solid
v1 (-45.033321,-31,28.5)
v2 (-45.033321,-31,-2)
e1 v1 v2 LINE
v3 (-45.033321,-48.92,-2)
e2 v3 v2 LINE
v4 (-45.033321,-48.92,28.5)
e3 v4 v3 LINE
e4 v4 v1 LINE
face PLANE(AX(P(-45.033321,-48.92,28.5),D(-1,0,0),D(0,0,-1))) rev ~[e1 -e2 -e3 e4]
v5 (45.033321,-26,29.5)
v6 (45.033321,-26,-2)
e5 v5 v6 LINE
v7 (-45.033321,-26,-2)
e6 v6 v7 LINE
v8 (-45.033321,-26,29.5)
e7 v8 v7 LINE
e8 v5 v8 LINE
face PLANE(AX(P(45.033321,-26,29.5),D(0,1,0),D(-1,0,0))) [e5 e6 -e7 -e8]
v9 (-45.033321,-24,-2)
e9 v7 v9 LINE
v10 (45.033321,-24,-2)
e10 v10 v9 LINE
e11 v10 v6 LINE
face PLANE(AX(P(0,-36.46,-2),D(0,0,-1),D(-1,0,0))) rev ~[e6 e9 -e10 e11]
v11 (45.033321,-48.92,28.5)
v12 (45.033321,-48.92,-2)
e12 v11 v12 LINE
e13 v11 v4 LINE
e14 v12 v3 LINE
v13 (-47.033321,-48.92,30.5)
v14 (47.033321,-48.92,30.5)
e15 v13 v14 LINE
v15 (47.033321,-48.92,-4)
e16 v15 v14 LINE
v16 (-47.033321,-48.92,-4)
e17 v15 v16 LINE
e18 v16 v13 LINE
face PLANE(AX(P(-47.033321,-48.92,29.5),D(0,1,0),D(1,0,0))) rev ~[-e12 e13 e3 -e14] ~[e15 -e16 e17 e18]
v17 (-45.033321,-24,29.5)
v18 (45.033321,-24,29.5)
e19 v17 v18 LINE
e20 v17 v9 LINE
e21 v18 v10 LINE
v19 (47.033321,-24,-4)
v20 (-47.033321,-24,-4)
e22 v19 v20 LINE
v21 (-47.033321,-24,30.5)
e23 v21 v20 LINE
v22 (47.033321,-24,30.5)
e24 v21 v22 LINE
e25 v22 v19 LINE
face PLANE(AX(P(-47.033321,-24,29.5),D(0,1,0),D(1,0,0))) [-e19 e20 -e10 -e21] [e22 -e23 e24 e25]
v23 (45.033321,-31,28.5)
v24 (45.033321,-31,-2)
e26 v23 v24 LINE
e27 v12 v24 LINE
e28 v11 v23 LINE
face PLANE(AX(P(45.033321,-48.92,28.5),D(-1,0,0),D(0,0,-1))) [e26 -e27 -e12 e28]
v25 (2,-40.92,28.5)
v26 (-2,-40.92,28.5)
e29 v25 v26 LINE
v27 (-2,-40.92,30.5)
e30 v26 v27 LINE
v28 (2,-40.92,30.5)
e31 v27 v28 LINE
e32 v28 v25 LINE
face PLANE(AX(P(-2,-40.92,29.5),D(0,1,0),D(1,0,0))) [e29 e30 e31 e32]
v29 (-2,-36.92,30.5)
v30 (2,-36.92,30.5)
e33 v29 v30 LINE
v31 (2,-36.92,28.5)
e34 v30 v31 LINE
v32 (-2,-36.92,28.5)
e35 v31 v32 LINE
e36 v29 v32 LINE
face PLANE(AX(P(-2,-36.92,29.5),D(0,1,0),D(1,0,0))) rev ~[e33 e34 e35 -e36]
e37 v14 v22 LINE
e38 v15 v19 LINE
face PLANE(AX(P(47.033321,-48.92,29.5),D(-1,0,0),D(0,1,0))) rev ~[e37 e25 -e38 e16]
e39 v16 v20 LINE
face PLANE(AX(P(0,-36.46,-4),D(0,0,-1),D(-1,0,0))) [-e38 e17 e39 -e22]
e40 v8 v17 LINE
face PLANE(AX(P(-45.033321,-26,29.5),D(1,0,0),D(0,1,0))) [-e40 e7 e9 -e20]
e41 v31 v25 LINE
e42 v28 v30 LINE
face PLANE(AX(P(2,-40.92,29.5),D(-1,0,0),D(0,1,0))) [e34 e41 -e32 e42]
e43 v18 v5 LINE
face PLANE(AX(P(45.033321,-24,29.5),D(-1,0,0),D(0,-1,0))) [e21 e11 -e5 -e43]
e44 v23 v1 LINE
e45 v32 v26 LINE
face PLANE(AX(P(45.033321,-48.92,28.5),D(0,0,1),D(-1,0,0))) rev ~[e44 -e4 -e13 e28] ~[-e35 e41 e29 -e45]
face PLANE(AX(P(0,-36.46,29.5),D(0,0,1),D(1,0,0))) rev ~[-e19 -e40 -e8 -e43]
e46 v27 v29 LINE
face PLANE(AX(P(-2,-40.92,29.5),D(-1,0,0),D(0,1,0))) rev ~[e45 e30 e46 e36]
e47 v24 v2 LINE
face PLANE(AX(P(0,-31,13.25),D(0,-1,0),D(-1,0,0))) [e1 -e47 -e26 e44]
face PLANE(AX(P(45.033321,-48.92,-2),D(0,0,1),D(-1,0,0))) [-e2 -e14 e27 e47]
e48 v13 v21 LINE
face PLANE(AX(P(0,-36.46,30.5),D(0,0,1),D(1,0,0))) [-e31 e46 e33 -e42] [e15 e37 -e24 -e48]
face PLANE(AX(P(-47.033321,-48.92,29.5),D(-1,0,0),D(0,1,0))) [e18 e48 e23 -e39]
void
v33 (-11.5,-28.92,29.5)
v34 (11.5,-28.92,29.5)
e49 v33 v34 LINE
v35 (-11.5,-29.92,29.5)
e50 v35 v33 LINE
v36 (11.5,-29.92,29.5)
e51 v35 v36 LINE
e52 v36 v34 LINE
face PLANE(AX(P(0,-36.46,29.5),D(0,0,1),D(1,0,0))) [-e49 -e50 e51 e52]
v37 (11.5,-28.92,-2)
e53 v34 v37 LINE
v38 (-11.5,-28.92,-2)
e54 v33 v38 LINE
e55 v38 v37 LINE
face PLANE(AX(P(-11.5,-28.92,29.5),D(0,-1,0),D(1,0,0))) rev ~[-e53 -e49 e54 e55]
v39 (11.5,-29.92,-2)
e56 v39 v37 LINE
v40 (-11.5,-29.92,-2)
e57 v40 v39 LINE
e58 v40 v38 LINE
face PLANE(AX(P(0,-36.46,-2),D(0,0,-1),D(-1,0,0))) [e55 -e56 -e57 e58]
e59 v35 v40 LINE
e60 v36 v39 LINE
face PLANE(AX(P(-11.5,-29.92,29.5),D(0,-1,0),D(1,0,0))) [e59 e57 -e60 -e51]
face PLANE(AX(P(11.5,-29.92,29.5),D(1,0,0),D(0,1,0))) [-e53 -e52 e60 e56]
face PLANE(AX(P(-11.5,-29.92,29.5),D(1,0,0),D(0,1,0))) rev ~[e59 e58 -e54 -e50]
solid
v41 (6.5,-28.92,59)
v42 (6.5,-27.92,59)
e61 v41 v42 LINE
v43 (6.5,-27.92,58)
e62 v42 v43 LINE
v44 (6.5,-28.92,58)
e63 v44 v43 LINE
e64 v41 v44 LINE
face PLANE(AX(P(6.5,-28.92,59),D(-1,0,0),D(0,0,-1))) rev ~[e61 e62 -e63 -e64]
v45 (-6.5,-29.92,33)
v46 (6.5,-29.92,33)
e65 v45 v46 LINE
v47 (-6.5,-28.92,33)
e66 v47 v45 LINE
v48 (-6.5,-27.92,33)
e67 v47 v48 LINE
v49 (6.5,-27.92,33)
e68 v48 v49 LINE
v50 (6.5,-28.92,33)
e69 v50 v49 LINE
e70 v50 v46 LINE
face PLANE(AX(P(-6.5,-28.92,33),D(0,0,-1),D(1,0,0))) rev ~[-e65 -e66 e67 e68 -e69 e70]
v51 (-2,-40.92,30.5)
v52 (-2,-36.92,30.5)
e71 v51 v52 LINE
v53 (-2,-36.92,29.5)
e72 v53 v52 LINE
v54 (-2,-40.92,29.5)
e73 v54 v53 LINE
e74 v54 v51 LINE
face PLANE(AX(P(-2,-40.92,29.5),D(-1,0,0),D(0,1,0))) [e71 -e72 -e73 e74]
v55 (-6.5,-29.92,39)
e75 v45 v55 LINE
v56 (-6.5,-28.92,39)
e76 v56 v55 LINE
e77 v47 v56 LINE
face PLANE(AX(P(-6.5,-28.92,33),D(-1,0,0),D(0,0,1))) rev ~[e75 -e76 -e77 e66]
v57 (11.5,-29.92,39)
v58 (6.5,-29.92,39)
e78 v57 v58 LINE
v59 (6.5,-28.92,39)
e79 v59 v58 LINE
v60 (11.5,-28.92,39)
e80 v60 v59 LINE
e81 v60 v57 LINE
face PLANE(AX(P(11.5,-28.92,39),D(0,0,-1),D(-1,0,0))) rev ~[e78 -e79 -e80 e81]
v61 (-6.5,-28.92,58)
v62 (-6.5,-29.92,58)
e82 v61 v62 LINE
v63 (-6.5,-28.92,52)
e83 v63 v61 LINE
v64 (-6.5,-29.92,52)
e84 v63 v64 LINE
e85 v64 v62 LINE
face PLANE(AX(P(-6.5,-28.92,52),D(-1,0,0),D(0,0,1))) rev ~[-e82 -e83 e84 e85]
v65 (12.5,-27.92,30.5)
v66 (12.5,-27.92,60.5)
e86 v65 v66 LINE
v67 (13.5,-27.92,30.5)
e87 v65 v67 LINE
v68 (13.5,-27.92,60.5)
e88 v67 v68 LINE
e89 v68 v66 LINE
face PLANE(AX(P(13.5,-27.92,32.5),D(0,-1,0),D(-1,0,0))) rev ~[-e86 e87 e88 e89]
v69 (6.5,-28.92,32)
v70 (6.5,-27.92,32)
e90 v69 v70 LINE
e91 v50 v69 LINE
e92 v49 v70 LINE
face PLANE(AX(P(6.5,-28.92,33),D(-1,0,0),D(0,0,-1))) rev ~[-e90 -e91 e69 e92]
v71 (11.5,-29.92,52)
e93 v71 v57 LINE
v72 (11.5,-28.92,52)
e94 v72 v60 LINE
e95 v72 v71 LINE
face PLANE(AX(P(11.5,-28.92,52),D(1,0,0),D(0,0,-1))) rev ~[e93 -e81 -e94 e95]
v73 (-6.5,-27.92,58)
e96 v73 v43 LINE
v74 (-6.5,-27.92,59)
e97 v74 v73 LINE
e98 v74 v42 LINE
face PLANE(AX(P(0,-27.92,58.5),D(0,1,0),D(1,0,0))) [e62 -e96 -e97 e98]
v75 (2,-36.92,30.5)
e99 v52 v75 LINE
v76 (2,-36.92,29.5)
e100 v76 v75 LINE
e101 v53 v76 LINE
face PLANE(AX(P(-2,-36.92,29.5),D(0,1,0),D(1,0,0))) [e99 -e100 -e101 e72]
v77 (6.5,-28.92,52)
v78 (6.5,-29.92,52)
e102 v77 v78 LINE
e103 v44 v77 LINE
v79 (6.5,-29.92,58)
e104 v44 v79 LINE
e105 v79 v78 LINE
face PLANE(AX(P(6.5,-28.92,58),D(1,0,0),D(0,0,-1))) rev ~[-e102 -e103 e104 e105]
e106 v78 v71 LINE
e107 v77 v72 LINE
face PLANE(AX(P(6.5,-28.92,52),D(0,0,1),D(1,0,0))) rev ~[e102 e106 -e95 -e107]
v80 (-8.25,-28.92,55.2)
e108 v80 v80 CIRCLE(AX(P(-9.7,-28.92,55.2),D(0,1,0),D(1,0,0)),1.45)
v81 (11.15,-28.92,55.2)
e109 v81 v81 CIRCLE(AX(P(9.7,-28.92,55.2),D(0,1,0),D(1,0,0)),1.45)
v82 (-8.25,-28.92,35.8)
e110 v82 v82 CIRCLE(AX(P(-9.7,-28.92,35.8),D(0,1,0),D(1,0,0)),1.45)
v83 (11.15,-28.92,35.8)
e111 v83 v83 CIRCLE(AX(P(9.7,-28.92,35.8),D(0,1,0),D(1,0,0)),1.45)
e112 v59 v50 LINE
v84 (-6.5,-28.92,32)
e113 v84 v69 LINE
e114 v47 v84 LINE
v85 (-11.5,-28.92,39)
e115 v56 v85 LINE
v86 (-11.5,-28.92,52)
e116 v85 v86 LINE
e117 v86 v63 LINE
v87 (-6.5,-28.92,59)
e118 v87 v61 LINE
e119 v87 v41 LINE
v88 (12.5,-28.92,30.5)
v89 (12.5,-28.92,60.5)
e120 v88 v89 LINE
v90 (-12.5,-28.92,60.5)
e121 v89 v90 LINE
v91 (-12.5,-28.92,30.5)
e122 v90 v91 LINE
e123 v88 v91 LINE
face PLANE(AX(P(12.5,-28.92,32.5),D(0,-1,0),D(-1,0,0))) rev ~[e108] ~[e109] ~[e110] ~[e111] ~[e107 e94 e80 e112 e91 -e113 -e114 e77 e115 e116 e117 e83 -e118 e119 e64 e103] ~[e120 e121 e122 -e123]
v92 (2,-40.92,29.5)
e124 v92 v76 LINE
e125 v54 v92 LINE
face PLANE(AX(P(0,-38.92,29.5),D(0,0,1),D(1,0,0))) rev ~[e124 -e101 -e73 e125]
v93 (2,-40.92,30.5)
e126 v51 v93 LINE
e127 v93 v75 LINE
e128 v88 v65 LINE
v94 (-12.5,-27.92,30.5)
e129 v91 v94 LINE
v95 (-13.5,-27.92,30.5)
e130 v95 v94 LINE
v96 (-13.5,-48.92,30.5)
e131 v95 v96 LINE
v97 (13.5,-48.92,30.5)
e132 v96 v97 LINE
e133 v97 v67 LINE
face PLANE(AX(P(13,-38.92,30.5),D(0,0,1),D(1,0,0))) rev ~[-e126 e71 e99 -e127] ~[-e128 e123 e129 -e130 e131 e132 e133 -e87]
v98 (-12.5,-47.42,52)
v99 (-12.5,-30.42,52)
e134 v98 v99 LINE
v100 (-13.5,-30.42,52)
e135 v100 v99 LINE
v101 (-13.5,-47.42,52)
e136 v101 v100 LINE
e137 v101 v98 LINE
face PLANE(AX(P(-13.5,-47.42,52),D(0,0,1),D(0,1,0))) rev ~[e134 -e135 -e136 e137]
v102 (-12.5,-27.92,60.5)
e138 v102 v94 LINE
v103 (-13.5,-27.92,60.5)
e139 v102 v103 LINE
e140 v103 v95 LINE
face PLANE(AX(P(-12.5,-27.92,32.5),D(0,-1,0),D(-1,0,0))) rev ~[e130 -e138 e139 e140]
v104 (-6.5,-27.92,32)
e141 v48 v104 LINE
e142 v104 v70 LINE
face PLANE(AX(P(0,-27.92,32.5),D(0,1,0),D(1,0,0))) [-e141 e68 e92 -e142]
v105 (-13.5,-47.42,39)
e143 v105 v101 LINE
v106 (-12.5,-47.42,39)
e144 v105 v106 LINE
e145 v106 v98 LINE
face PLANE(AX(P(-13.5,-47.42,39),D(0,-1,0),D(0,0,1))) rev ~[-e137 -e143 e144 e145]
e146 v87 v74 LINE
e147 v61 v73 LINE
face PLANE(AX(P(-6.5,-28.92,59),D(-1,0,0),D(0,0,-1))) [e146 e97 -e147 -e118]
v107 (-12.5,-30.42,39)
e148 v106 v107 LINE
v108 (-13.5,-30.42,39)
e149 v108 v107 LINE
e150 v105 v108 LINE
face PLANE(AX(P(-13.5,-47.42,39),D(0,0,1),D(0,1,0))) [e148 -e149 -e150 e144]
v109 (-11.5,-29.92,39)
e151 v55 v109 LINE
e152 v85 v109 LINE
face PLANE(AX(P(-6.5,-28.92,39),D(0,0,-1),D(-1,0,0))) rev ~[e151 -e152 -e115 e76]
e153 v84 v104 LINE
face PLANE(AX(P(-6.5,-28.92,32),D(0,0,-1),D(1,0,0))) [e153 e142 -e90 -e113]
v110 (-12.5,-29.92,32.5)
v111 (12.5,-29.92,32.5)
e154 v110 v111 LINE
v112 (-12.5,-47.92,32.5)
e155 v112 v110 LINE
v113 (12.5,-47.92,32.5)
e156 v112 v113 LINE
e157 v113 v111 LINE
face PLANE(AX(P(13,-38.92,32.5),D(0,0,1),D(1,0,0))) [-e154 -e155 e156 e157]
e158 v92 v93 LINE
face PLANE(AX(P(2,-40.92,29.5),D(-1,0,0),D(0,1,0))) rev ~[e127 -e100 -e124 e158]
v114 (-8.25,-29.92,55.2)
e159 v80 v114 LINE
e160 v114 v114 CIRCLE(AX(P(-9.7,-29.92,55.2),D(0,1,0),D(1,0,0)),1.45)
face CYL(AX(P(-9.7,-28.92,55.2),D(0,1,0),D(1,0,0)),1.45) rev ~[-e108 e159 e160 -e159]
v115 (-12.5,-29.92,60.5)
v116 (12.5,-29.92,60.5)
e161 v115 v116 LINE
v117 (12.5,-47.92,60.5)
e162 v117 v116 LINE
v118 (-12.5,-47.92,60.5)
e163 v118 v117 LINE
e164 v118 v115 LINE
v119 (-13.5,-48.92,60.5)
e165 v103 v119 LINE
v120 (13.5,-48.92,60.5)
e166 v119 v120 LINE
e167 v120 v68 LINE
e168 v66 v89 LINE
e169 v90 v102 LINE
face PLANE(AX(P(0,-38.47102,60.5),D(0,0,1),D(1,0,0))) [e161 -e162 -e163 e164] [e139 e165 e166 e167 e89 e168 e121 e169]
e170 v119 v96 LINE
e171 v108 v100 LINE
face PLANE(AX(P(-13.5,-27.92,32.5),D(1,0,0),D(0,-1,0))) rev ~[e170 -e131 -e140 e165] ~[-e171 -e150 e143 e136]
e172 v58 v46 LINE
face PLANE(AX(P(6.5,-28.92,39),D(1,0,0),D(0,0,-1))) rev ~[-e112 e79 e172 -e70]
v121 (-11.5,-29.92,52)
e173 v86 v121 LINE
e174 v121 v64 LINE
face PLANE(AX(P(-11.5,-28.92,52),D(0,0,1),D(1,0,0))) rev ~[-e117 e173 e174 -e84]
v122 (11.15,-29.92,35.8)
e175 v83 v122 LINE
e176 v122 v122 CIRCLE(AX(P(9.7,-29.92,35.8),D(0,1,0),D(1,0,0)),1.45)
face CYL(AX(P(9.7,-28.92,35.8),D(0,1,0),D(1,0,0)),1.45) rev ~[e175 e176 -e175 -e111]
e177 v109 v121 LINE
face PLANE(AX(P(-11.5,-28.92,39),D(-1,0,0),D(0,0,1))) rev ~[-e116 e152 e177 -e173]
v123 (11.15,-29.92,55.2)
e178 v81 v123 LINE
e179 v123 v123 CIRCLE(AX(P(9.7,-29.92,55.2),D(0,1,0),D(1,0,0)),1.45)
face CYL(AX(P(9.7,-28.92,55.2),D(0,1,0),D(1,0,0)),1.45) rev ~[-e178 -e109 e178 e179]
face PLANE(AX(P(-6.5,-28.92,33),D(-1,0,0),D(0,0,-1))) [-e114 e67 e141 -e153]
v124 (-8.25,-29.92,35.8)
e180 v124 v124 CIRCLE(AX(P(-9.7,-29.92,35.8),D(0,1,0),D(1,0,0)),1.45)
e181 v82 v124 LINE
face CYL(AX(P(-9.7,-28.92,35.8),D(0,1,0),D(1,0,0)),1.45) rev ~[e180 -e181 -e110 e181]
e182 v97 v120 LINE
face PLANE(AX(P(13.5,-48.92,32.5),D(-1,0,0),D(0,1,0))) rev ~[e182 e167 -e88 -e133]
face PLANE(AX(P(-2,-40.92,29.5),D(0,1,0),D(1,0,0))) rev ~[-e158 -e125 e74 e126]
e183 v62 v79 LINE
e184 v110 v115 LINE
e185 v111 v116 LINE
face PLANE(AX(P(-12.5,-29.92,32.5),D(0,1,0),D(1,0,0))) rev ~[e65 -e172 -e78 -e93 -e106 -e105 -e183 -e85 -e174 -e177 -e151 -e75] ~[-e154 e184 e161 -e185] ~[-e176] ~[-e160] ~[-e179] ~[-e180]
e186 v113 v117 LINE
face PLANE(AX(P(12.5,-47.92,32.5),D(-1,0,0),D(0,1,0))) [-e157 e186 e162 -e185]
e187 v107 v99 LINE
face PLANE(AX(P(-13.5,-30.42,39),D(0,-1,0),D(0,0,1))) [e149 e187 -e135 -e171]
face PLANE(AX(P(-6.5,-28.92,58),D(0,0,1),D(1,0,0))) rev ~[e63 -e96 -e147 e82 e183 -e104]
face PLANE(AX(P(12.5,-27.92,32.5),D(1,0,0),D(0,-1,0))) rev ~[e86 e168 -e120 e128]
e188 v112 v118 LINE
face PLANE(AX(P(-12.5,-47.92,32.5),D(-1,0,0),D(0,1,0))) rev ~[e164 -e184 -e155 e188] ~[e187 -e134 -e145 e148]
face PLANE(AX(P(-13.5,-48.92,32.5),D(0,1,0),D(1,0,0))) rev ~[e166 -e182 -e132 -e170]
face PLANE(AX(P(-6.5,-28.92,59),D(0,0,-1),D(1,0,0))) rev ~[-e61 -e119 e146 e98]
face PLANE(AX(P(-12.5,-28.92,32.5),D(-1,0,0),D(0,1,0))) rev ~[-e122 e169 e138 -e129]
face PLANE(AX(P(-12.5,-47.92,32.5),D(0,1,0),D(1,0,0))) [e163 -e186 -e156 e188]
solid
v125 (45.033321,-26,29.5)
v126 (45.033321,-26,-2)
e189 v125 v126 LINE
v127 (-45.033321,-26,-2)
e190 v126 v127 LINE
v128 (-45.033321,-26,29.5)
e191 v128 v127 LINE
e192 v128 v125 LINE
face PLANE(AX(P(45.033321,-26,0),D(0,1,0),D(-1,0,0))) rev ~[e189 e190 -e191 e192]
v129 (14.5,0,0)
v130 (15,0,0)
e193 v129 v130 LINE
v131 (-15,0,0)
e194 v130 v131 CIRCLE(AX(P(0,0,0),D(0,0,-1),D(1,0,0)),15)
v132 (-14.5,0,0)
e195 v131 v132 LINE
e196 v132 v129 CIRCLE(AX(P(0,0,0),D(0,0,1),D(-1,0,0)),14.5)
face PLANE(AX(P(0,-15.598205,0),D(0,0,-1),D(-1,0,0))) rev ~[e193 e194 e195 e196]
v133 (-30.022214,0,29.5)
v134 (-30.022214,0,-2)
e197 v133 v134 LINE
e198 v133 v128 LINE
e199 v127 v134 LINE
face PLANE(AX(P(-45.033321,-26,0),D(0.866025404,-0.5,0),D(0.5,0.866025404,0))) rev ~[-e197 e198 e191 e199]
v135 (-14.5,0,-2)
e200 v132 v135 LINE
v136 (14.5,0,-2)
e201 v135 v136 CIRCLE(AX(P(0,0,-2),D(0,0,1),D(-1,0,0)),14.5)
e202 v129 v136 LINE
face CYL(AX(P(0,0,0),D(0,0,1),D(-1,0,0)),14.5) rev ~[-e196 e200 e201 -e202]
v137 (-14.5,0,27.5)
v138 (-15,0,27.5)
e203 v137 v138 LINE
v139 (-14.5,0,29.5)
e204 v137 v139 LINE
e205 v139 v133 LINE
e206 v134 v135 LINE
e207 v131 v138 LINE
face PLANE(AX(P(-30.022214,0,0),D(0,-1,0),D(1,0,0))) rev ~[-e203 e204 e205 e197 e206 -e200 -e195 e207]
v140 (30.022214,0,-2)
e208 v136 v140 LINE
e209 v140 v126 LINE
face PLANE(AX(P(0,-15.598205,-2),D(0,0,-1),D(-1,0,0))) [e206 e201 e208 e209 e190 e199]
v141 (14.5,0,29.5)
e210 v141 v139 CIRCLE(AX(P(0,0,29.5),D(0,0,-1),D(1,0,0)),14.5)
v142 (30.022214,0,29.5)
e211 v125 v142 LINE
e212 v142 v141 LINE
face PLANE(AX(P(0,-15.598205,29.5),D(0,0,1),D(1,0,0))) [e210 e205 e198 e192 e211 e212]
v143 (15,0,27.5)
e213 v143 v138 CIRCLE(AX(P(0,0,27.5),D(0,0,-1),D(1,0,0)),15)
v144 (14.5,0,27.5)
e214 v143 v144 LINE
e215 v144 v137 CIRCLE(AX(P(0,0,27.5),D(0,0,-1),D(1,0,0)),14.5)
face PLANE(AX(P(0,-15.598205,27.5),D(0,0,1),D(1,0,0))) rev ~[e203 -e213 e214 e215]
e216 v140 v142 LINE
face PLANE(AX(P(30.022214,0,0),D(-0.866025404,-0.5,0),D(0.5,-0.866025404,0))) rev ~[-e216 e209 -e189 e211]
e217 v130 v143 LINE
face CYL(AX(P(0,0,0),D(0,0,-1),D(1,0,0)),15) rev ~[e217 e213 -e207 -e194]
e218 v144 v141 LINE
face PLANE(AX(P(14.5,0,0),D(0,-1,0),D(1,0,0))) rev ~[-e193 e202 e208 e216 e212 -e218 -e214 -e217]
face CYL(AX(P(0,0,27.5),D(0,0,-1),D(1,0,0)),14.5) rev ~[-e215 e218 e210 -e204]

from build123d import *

# Parameters (mm, degrees)
BOSS_EXTRUDE1_DEPTH  = 27.5
BOSS_EXTRUDE2_DEPTH  = 2
BOSS_EXTRUDE3_DEPTH  = 2
ENCODER_RAIL_W       = 23
ENCODER_RAIL_H       = 1
ENCODER_RAIL_W_2     = 4
ENCODER_RAIL_H_2     = 4
BOSS_EXTRUDE6_DEPTH  = 31.5
SKETCH3_W            = 94.066641994
SKETCH3_H            = 24.92
BOSS_EXTRUDE7_DEPTH  = 2
SKETCH4_W            = 94.066641994
SKETCH4_H            = 24.92
BOSS_EXTRUDE8_DEPTH  = 1
SKETCH6_W            = 90.066641994
SKETCH6_H            = 30.5
CUT_EXTRUDE1_DEPTH   = 17.92
BOSS_EXTRUDE10_START = 1
ENCODER_RAIL_9_W     = 4
ENCODER_RAIL_9_H     = 4
ENCODER_RAIL_9_W_2   = 1
ENCODER_RAIL_9_H_2   = 1
BOSS_EXTRUDE10_DEPTH = 2
ENCODER_RAIL_10_W    = 4
ENCODER_RAIL_10_H    = 4
CUT_EXTRUDE2_DEPTH   = 1
ENCODER_RAIL_11_W    = 4
ENCODER_RAIL_11_H    = 4
BOSS_EXTRUDE11_DEPTH = 1
SKETCH8_W            = 25
SKETCH8_H            = 18
BOSS_EXTRUDE12_DEPTH = 28
SKETCH9_R            = 1.45
SKETCH9_W            = 13
SKETCH9_H            = 1
CUT_EXTRUDE4_DEPTH   = 1
SKETCH9_4_W          = 13
SKETCH9_4_H          = 1
BOSS_EXTRUDE13_DEPTH = 1
SKETCH11_W           = 13
SKETCH11_H           = 17
CUT_EXTRUDE5_DEPTH   = 1


with BuildPart() as part:
    # Frame → Boss-Extrude1 (new body)
    with BuildSketch(Plane.XY):
        with BuildLine():
            Line((-45.033320997, -26), (45.033320997, -26))
            Line((45.033320997, -26), (30.022213998, 0))
            Line((30.022213998, 0), (18, 0))
            ThreePointArc((18, 0), (0, -18), (-18, 0))
            Line((-18, 0), (-30.022213998, 0))
            Line((-30.022213998, 0), (-45.033320997, -26))
        make_face()
        with BuildLine():
            ThreePointArc((-18, 0), (0, -18), (18, 0))
            Line((18, 0), (15, 0))
            ThreePointArc((15, 0), (0, -15), (-15, 0))
            Line((-15, 0), (-18, 0))
        make_face()
    extrude(amount=BOSS_EXTRUDE1_DEPTH)

    # lip → Boss-Extrude2 (add)
    with BuildSketch(Plane.XY.offset(27.5)):
        with BuildLine():
            Line((45.033320997, -26), (30.022213998, 0))
            Line((30.022213998, 0), (15, 0))
            ThreePointArc((15, 0), (0, -15), (-15, 0))
            Line((-15, 0), (-30.022213998, 0))
            Line((-30.022213998, 0), (-45.033320997, -26))
            Line((-45.033320997, -26), (45.033320997, -26))
        make_face()
        with BuildLine():
            ThreePointArc((14.5, 0), (0, -14.5), (-14.5, 0))
            Line((-14.5, 0), (-15, 0))
            ThreePointArc((-15, 0), (0, -15), (15, 0))
            Line((15, 0), (14.5, 0))
        make_face()
    extrude(amount=BOSS_EXTRUDE2_DEPTH)

    # lip2 → Boss-Extrude3 (add)
    with BuildSketch(Plane(origin=(0, 0, 0), x_dir=(-1, 0, 0), z_dir=(0, 0, -1))):
        with BuildLine():
            ThreePointArc((15, 0), (0, -15), (-15, 0))
            Line((-15, 0), (-30.022213998, 0))
            Line((-30.022213998, 0), (-45.033320997, -26))
            Line((-45.033320997, -26), (45.033320997, -26))
            Line((45.033320997, -26), (30.022213998, 0))
            Line((30.022213998, 0), (15, 0))
        make_face()
        with BuildLine():
            Line((-14.5, 0), (-15, 0))
            ThreePointArc((-15, 0), (0, -15), (15, 0))
            Line((15, 0), (14.5, 0))
            ThreePointArc((14.5, 0), (0, -14.5), (-14.5, 0))
        make_face()
    extrude(amount=BOSS_EXTRUDE3_DEPTH)


with BuildPart() as body_2:
    # Encoder Rail → Boss-Extrude6 (new body, through all)
    with BuildSketch(Plane.XY.offset(29.5)):
        Polygon((47.033320997, -48.92), (47.033320997, -24), (45.033320997, -24), (45.033320997, -26), (-45.033320997, -26), (-45.033320997, -24), (-47.033320997, -24), (-47.033320997, -48.92), align=None)
        with Locations((0, -29.42)):
            Rectangle(ENCODER_RAIL_W, ENCODER_RAIL_H, mode=Mode.SUBTRACT)
        with Locations((0, -38.92)):
            Rectangle(ENCODER_RAIL_W_2, ENCODER_RAIL_H_2, mode=Mode.SUBTRACT)
    extrude(amount=-BOSS_EXTRUDE6_DEPTH)

    # Sketch3 → Boss-Extrude7 (add)
    with BuildSketch(Plane(origin=(0, 0, -2), x_dir=(-1, 0, 0), z_dir=(0, 0, -1))):
        with Locations((0, -36.46)):
            Rectangle(SKETCH3_W, SKETCH3_H)
    extrude(amount=BOSS_EXTRUDE7_DEPTH)

    # Sketch4 → Boss-Extrude8 (add)
    with BuildSketch(Plane.XY.offset(29.5)):
        with Locations((0, -36.46)):
            Rectangle(SKETCH4_W, SKETCH4_H)
    extrude(amount=BOSS_EXTRUDE8_DEPTH)

    # Sketch6 → Cut-Extrude1 (cut)
    with BuildSketch(Plane(origin=(0, -48.92, 0), x_dir=(-1, 0, 0), z_dir=(0, -1, 0))):
        with Locations((0, -13.25)):
            Rectangle(SKETCH6_W, SKETCH6_H)
    extrude(amount=-CUT_EXTRUDE1_DEPTH, mode=Mode.SUBTRACT)

    # Encoder Rail<10> → Cut-Extrude2 (cut)
    with BuildSketch(Plane.XY.offset(29.5)):
        with Locations((0, -38.92)):
            Rectangle(ENCODER_RAIL_10_W, ENCODER_RAIL_10_H)
    extrude(amount=CUT_EXTRUDE2_DEPTH, mode=Mode.SUBTRACT)


with BuildPart() as body_3:
    # Encoder Rail<9> → Boss-Extrude10 (new body)
    with BuildSketch(Plane.XY.offset(29.5).offset(BOSS_EXTRUDE10_START)):
        Polygon((12.5, -48.92), (13.5, -48.92), (13.5, -28.92), (12.5, -28.92), (12.5, -29.92), align=None)
        Polygon((-12.5, -29.92), (-12.5, -48.92), (12.5, -48.92), (12.5, -29.92), (11.5, -29.92), (-11.5, -29.92), align=None)
        with Locations((0, -38.92)):
            Rectangle(ENCODER_RAIL_9_W, ENCODER_RAIL_9_H, mode=Mode.SUBTRACT)
        with Locations((0, -38.92)):
            Rectangle(ENCODER_RAIL_9_W, ENCODER_RAIL_9_H)
        Polygon((-13.5, -28.92), (-13.5, -48.92), (-12.5, -48.92), (-12.5, -29.92), (-12.5, -28.92), align=None)
        with Locations((-13, -28.42)):
            Rectangle(ENCODER_RAIL_9_W_2, ENCODER_RAIL_9_H_2)
        with Locations((-12, -29.42)):
            Rectangle(ENCODER_RAIL_9_W_2, ENCODER_RAIL_9_H_2)
        Polygon((11.5, -28.92), (0, -28.92), (-11.5, -28.92), (-11.5, -29.92), (11.5, -29.92), align=None)
        with Locations((12, -29.42)):
            Rectangle(ENCODER_RAIL_9_W_2, ENCODER_RAIL_9_H_2)
        with Locations((13, -28.42)):
            Rectangle(ENCODER_RAIL_9_W_2, ENCODER_RAIL_9_H_2)
    extrude(amount=BOSS_EXTRUDE10_DEPTH)

    # Encoder Rail<11> → Boss-Extrude11 (add)
    with BuildSketch(Plane.XY.offset(29.5)):
        with Locations((0, -38.92)):
            Rectangle(ENCODER_RAIL_11_W, ENCODER_RAIL_11_H)
    extrude(amount=BOSS_EXTRUDE11_DEPTH)

    # Sketch8 → Boss-Extrude12 (add)
    with BuildSketch(Plane.XY.offset(32.5)):
        Polygon((-13.5, -48.92), (13.5, -48.92), (13.5, -27.92), (12.5, -27.92), (12.5, -28.92), (-12.5, -28.92), (-12.5, -27.92), (-13.5, -27.92), align=None)
        with Locations((0, -38.92)):
            Rectangle(SKETCH8_W, SKETCH8_H, mode=Mode.SUBTRACT)
    extrude(amount=BOSS_EXTRUDE12_DEPTH)

    # Sketch9 → Cut-Extrude4 (cut)
    with BuildSketch(Plane(origin=(0, -28.92, 0), x_dir=(1, 0, 0), z_dir=(0, 1, 0))):
        Polygon((-6.5, -39), (-11.5, -39), (-11.5, -52), (-6.5, -52), (-6.5, -57), (6.5, -57), (6.5, -52), (11.5, -52), (11.5, -39), (6.5, -39), (6.5, -34), (-6.5, -34), align=None)
        with Locations((9.7, -55.2)):
            Circle(SKETCH9_R)
        with Locations((-9.7, -55.2)):
            Circle(SKETCH9_R)
        with Locations((-9.7, -35.8)):
            Circle(SKETCH9_R)
        with Locations((9.7, -35.8)):
            Circle(SKETCH9_R)
        with Locations((0, -57.5)):
            Rectangle(SKETCH9_W, SKETCH9_H)
        with Locations((0, -33.5)):
            Rectangle(SKETCH9_W, SKETCH9_H)
    extrude(amount=-CUT_EXTRUDE4_DEPTH, mode=Mode.SUBTRACT)

    # Sketch9<4> → Boss-Extrude13 (add)
    with BuildSketch(Plane(origin=(0, -28.92, 0), x_dir=(1, 0, 0), z_dir=(0, 1, 0))):
        with Locations((0, -32.5)):
            Rectangle(SKETCH9_4_W, SKETCH9_4_H)
        with Locations((0, -58.5)):
            Rectangle(SKETCH9_4_W, SKETCH9_4_H)
    extrude(amount=BOSS_EXTRUDE13_DEPTH)

    # Sketch11 → Cut-Extrude5 (cut)
    with BuildSketch(Plane.ZY.offset(13.5)):
        with Locations((45.5, -38.92)):
            Rectangle(SKETCH11_W, SKETCH11_H)
    extrude(amount=-CUT_EXTRUDE5_DEPTH, mode=Mode.SUBTRACT)


solid = Compound([part.part, body_2.part, body_3.part])
